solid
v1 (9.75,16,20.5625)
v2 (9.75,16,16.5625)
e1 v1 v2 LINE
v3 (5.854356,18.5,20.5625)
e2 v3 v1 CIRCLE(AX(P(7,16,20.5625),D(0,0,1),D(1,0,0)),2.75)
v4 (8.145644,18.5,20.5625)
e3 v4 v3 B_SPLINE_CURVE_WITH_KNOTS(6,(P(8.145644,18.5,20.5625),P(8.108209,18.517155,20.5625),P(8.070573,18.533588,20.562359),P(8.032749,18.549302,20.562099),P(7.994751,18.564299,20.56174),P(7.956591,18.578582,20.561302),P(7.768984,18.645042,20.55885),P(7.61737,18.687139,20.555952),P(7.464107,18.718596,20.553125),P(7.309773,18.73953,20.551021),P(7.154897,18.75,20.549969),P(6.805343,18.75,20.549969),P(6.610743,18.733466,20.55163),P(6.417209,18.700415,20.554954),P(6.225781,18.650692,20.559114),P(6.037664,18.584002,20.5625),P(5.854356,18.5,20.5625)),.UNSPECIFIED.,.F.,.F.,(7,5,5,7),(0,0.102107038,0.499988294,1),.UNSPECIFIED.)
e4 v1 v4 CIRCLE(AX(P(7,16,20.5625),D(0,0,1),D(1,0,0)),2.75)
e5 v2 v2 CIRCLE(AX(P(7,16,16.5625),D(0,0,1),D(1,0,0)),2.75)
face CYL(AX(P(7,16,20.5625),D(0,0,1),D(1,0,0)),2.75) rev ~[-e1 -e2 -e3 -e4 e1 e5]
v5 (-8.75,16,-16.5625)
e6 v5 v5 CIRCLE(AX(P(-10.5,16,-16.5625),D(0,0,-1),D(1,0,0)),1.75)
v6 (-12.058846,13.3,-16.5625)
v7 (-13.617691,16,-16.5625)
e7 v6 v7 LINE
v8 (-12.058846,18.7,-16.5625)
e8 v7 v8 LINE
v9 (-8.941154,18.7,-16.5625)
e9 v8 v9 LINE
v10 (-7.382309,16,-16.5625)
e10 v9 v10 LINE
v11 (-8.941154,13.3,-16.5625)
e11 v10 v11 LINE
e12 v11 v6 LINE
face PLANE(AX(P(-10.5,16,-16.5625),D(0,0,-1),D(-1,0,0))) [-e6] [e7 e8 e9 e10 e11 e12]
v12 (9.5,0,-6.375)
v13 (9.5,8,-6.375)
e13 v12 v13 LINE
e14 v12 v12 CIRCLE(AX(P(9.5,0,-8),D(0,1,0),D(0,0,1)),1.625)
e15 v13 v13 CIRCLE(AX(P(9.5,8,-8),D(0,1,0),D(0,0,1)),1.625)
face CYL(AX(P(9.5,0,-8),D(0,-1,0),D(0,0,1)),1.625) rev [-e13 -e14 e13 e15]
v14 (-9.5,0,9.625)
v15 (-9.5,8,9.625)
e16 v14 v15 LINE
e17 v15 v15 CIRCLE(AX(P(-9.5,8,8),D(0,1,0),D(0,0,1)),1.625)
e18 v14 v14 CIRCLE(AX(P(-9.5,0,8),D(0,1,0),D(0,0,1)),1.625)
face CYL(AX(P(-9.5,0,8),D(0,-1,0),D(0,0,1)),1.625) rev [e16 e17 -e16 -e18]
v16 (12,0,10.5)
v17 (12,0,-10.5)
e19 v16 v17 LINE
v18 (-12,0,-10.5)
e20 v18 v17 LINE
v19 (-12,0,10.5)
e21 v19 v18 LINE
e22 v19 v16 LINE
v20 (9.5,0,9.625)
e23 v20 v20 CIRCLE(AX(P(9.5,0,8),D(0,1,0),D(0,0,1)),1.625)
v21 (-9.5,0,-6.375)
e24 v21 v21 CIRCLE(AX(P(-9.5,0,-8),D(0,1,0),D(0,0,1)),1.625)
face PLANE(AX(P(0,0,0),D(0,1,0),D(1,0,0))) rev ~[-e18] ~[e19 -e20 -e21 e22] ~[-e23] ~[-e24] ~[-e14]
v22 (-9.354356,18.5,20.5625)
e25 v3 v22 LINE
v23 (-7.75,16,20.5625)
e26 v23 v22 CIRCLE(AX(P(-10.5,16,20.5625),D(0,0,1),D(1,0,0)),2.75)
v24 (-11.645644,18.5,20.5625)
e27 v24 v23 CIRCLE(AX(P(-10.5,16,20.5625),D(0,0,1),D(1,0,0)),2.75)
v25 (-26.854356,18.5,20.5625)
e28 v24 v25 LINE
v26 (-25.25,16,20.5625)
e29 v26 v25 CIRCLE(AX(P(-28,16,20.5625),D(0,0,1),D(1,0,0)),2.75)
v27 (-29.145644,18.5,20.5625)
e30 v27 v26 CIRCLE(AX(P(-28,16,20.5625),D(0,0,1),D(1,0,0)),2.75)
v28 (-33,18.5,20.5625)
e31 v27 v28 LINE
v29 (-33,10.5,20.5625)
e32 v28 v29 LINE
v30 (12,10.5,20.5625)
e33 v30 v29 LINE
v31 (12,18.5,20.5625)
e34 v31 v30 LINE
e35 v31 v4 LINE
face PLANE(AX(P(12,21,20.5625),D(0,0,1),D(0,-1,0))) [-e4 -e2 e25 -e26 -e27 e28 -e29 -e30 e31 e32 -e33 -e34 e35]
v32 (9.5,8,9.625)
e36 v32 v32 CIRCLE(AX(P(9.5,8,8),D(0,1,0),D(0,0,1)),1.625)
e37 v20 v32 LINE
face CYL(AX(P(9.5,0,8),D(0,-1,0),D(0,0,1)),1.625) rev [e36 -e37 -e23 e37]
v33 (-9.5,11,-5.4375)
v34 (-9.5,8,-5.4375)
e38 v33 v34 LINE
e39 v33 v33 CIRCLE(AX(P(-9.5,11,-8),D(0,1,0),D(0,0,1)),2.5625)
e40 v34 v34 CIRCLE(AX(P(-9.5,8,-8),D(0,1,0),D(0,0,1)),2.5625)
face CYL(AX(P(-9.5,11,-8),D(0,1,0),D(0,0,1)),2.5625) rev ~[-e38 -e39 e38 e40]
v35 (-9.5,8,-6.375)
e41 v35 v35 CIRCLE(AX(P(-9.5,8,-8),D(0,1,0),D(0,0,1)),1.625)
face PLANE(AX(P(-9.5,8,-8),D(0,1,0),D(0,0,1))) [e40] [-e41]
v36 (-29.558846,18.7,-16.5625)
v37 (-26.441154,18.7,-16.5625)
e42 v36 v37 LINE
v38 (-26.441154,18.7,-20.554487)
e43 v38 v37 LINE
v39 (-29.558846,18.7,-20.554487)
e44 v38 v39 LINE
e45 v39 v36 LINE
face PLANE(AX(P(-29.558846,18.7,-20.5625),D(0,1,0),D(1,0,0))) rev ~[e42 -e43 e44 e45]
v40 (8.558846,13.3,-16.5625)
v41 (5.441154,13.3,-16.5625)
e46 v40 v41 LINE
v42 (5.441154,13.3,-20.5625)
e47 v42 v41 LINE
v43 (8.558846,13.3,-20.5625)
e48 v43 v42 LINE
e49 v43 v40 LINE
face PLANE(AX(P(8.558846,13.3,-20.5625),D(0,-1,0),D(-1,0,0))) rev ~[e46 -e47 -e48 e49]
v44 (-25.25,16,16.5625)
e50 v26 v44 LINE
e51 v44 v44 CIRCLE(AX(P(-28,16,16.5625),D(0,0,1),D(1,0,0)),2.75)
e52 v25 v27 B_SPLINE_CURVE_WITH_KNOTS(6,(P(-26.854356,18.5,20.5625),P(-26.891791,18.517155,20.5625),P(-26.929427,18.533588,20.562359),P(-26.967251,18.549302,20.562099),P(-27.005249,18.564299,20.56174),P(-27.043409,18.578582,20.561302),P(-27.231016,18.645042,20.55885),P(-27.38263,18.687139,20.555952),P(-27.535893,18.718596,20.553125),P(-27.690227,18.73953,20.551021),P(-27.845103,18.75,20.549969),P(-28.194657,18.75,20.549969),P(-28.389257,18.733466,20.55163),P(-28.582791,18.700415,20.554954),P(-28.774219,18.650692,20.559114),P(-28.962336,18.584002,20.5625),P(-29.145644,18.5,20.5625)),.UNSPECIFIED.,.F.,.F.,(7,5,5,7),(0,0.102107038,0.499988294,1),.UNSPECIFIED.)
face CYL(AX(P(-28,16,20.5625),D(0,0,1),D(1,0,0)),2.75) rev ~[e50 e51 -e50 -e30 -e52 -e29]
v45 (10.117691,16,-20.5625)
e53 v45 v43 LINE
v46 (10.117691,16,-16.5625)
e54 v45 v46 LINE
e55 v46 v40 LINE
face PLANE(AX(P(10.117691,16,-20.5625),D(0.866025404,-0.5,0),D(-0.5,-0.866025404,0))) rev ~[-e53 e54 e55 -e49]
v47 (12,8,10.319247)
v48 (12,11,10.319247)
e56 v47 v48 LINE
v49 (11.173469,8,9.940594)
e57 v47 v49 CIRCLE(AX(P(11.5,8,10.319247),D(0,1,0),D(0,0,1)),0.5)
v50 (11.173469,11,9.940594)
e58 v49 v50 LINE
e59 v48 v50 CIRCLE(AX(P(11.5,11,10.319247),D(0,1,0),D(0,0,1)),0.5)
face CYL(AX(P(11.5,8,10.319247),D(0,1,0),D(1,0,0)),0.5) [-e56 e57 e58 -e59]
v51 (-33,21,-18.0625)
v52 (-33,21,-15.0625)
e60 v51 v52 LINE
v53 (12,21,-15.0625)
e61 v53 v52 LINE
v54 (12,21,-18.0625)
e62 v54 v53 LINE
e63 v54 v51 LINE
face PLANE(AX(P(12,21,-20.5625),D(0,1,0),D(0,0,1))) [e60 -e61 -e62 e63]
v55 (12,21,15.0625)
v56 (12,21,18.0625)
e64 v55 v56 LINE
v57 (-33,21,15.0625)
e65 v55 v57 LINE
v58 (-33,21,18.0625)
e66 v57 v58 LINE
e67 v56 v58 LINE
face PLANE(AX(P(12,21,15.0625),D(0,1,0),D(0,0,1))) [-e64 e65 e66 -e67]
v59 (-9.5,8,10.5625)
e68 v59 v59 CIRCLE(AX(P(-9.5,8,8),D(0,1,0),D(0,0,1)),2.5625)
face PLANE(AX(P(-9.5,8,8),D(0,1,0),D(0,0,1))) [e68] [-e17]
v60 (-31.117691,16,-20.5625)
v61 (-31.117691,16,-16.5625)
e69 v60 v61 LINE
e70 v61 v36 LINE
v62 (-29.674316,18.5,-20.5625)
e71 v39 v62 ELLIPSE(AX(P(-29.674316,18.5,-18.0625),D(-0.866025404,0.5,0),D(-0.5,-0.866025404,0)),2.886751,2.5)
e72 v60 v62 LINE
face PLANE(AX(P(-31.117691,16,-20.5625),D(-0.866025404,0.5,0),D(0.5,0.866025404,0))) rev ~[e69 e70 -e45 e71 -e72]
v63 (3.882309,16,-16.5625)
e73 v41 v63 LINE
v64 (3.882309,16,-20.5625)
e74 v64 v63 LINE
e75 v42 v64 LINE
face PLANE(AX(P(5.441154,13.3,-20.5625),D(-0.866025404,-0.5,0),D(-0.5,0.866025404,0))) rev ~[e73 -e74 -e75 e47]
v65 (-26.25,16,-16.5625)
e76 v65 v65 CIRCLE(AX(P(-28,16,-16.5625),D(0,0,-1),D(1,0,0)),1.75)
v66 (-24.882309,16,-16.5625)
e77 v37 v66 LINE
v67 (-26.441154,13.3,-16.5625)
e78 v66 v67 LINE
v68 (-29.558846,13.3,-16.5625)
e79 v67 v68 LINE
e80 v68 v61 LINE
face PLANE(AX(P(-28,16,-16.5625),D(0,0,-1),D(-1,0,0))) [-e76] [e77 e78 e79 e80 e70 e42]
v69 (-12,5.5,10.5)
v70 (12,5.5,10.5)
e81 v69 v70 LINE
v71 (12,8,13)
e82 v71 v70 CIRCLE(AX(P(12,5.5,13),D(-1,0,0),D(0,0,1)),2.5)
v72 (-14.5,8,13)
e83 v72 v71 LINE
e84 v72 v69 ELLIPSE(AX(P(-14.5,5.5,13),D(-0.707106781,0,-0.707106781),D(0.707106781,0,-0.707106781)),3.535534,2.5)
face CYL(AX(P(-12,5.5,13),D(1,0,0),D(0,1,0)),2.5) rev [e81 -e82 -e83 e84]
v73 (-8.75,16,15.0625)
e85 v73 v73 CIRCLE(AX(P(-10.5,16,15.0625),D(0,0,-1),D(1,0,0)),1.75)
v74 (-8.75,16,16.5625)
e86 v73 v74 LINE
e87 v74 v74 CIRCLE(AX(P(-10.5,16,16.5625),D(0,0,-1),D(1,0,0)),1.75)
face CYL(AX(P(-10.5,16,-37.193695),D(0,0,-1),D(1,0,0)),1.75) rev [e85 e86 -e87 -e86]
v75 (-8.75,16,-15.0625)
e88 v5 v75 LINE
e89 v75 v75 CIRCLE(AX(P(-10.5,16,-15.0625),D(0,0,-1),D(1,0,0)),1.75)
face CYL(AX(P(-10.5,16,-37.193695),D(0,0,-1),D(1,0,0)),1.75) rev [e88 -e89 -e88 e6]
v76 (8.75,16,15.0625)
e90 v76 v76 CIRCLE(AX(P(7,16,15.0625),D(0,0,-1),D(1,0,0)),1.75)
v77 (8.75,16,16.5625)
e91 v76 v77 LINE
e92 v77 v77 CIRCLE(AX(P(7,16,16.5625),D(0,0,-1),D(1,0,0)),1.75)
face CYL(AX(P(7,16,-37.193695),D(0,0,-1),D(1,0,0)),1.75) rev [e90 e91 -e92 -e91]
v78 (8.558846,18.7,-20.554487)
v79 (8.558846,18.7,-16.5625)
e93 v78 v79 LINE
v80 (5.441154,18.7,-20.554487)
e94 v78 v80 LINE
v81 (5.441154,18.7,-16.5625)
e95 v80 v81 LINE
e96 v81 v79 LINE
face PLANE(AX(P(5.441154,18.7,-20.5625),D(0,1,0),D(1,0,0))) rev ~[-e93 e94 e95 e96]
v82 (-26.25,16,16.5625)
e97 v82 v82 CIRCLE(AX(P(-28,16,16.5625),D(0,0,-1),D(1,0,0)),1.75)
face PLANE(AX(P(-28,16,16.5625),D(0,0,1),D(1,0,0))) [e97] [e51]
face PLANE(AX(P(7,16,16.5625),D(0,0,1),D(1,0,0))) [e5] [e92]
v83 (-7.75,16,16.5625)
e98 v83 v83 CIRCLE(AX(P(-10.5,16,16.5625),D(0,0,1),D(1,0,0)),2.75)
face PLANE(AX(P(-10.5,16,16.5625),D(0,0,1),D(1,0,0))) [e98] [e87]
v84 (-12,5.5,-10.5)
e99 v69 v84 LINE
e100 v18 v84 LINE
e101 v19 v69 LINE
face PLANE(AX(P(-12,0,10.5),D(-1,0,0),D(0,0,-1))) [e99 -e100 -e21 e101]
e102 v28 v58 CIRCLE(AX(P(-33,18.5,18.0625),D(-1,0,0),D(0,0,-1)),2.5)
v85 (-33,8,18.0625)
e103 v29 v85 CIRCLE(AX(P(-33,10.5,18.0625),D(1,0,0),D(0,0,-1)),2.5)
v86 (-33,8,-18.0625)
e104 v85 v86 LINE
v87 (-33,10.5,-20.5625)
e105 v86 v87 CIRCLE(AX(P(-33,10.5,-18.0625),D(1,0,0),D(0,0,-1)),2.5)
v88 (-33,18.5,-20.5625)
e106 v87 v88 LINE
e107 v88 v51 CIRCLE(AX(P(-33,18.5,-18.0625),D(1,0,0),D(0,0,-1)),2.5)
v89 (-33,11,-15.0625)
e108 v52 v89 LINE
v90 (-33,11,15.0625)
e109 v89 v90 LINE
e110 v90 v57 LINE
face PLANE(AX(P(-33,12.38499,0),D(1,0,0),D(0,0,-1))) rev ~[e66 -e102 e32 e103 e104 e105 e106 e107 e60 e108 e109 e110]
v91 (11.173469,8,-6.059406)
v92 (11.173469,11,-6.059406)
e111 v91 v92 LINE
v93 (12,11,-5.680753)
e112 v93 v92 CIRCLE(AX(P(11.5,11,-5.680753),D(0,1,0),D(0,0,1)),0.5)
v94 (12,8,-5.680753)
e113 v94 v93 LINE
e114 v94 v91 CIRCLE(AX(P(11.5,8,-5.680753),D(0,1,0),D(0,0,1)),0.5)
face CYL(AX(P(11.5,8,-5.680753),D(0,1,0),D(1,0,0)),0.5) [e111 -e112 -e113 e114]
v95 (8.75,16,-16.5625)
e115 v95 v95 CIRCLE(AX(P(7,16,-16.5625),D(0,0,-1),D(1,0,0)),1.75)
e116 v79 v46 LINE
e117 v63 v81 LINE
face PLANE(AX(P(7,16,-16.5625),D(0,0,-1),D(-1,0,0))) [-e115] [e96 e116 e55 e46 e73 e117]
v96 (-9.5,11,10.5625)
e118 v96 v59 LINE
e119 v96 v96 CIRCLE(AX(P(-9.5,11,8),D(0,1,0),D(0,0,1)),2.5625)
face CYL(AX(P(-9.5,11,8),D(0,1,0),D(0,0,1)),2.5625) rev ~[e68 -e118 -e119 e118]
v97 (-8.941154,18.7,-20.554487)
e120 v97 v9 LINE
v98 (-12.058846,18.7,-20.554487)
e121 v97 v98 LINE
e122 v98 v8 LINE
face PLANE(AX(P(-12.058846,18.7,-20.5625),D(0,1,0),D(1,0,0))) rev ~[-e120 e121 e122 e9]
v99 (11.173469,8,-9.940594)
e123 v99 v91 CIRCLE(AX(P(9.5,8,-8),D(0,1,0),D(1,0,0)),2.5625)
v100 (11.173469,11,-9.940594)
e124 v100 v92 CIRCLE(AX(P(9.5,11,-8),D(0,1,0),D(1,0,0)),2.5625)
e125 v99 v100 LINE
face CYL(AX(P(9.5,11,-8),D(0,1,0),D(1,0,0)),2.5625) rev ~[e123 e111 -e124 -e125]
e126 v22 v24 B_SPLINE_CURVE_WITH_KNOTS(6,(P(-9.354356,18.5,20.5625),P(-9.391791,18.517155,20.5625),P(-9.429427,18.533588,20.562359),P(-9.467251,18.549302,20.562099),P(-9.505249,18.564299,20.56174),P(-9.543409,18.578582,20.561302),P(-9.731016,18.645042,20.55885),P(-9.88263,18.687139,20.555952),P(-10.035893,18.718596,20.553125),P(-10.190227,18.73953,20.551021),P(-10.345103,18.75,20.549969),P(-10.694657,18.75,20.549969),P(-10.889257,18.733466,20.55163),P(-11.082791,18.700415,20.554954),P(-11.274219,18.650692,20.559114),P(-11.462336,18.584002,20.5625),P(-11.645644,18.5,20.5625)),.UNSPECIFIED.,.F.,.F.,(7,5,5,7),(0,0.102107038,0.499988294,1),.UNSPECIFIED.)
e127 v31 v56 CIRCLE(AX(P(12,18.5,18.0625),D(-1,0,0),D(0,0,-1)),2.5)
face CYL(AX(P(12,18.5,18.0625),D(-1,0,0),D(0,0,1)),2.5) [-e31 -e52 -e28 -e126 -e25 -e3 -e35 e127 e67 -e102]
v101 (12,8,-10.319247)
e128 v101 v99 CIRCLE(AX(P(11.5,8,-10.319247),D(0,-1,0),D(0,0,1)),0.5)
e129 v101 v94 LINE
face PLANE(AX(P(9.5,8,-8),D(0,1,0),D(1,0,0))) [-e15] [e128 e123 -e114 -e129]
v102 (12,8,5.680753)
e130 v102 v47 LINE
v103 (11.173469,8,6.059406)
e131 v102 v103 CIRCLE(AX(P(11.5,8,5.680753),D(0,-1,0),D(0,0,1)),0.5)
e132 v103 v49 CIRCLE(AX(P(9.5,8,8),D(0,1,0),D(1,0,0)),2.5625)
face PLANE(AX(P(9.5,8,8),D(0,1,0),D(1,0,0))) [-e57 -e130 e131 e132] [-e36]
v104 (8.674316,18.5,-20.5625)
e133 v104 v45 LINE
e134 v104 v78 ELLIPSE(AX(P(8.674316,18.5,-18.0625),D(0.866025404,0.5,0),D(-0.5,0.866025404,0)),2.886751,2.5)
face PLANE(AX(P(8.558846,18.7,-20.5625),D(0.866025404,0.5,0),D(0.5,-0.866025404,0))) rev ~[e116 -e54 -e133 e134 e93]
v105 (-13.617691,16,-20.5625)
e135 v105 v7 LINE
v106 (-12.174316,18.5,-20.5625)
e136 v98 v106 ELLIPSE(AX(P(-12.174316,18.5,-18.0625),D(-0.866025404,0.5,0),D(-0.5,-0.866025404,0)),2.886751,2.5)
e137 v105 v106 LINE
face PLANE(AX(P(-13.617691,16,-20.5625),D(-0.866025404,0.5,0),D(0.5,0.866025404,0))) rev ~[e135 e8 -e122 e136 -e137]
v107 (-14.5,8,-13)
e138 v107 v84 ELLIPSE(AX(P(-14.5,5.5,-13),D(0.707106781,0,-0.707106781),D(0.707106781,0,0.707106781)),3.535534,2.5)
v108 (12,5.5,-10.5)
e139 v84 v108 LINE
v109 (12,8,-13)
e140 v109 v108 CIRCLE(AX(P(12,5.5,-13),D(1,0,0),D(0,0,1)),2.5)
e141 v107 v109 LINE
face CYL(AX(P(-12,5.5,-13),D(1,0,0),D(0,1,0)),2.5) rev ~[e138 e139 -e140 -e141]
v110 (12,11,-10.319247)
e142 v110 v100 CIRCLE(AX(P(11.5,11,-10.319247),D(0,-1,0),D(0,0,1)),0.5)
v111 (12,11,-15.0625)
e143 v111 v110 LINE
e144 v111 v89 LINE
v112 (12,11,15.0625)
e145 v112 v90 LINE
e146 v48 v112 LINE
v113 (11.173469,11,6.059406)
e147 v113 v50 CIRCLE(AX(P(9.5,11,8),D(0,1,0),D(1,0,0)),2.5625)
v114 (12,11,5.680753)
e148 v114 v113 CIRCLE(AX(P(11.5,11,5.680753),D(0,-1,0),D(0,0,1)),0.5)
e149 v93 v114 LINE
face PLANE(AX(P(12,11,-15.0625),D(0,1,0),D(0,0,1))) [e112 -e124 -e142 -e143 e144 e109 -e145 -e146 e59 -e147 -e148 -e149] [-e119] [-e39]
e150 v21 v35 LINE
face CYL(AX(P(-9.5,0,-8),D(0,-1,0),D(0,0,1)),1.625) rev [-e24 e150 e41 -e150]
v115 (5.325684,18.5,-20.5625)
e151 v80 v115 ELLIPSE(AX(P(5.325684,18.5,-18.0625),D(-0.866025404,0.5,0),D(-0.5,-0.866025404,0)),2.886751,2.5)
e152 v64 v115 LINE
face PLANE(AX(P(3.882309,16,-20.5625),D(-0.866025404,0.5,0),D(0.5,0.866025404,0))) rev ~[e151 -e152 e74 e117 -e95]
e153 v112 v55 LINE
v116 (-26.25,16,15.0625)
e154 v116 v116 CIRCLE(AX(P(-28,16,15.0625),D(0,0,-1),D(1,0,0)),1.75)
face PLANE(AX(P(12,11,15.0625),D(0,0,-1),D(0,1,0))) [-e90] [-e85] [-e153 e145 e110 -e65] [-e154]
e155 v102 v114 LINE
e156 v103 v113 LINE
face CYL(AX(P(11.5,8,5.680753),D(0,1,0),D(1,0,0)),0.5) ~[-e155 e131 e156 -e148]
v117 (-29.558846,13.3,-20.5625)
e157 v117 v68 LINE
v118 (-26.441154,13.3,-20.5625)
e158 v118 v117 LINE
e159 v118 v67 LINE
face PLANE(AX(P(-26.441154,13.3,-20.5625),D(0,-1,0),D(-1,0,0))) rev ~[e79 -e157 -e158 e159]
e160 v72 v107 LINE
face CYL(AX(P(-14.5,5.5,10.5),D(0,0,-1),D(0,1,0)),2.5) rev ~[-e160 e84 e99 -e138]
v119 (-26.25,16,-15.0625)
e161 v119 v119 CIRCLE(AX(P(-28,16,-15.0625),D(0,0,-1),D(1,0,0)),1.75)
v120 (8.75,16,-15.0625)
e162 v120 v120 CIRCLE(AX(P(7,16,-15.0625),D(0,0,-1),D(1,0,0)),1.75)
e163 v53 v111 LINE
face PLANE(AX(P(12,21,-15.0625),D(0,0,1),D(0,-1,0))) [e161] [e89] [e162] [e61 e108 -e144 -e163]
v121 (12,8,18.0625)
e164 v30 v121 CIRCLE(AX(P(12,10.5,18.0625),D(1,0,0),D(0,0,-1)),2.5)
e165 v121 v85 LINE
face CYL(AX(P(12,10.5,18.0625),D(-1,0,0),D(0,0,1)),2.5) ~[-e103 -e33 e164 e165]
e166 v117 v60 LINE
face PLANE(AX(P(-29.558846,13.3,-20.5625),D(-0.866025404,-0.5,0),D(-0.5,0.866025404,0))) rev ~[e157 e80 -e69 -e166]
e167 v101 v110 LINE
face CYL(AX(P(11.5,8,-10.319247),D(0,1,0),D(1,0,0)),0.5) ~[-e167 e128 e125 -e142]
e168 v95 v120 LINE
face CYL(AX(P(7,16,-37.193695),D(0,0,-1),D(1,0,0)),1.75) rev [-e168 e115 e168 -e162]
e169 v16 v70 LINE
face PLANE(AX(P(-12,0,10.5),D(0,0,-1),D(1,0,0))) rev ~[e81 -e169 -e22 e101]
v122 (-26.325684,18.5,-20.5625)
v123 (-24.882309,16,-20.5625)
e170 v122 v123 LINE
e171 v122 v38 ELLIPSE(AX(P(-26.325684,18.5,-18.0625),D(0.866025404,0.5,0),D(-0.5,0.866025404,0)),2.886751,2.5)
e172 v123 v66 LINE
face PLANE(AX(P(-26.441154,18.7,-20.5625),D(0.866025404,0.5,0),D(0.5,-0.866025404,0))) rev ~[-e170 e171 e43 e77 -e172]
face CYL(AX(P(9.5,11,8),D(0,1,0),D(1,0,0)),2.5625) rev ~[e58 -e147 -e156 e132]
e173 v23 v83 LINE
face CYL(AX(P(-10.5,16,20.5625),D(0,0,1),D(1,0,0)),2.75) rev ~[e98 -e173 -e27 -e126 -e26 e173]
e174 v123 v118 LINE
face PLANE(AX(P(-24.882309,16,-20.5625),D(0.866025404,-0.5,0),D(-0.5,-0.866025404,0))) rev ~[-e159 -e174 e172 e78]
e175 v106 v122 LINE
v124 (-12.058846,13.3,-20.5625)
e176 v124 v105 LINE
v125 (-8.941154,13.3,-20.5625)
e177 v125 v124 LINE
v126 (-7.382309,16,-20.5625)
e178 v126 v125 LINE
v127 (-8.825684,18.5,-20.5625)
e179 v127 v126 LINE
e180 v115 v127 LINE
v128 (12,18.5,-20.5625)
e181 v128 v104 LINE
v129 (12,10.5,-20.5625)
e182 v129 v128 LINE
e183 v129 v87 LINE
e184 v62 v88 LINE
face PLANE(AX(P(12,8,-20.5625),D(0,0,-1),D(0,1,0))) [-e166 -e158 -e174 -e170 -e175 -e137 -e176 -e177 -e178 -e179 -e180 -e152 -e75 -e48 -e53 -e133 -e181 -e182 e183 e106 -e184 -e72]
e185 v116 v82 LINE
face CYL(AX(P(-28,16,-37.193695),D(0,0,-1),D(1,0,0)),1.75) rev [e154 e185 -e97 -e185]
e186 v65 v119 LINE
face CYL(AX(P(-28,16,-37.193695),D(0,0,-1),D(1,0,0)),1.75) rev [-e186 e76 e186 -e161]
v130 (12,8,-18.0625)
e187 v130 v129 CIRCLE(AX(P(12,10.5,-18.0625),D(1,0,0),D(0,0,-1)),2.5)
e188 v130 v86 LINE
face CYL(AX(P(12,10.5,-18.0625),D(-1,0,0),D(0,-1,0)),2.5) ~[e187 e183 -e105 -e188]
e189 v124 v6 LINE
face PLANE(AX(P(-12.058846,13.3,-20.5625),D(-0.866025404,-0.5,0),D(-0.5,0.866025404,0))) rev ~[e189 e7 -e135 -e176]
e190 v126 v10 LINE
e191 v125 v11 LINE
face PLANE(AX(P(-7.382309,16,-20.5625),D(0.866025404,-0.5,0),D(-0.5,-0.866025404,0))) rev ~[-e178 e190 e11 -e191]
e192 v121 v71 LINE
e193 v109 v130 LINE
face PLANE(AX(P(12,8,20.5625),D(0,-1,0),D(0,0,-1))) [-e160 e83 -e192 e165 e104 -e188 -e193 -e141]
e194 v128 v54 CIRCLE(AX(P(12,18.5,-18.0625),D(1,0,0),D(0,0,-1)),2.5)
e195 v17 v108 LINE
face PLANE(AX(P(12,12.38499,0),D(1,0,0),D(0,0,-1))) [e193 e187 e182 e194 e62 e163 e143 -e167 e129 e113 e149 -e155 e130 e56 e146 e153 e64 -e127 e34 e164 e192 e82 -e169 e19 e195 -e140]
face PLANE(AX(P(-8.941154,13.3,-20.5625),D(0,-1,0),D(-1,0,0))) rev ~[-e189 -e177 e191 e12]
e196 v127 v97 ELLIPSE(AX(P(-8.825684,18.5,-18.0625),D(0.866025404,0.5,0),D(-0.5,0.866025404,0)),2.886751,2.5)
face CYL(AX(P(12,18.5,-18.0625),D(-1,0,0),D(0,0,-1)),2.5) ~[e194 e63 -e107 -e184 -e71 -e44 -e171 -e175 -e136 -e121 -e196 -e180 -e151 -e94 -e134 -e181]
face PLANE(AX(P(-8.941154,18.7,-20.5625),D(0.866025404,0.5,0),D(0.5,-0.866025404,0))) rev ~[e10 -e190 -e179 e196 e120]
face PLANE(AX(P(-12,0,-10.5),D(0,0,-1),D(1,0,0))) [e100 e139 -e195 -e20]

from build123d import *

# Parameters (mm, degrees)
SKETCH1_W               = 24
SKETCH1_H               = 21
SKETCH1_R               = 1.625
BOSS_EXTRUDE1_DEPTH     = 8
BOSS_EXTRUDE4_DEPTH     = 45
CUT_EXTRUDE9_DEPTH      = 57.756194596
CUT_EXTRUDE9_DEPTH_BACK = 57.756194596
SKETCH15_R              = 1.75
FILLET3_R               = 2.5
SKETCH4_R               = 2.5625
CUT_EXTRUDE3_DEPTH      = 3
FILLET7_R               = 0.5
SKETCH20_R              = 2.75
CUT_EXTRUDE15_DEPTH     = 4
CUT_EXTRUDE16_DEPTH     = 4


with BuildPart() as part:
    # Sketch1 → Boss-Extrude1 (new body)
    with BuildSketch(Plane(origin=(0, 0, 0), x_dir=(1, 0, 0), z_dir=(0, 1, 0))):
        Rectangle(SKETCH1_W, SKETCH1_H)
        with Locations((-9.5, 8)):
            Circle(SKETCH1_R, mode=Mode.SUBTRACT)
        with Locations((9.5, 8)):
            Circle(SKETCH1_R, mode=Mode.SUBTRACT)
        with Locations((9.5, -8)):
            Circle(SKETCH1_R, mode=Mode.SUBTRACT)
        with Locations((-9.5, -8)):
            Circle(SKETCH1_R, mode=Mode.SUBTRACT)
    extrude(amount=BOSS_EXTRUDE1_DEPTH)

    # Sketch7 → Boss-Extrude4 (add)
    with BuildSketch(Plane(origin=(12, 0, 0), x_dir=(0, 0, -1), z_dir=(1, 0, 0))):
        Polygon((-20.5625, 21), (-20.5625, 8), (20.5625, 8), (20.5625, 21), (15.0625, 21), (15.0625, 11), (-15.0625, 11), (-15.0625, 21), align=None)
    extrude(amount=-BOSS_EXTRUDE4_DEPTH)

    # Sketch15 → Cut-Extrude9 (cut, two sides: drawn at the far end of the back side and taken through both)
    with BuildSketch(Plane.XY.offset(20.5625).offset(-CUT_EXTRUDE9_DEPTH_BACK)):
        with Locations((7, 16)):
            Circle(SKETCH15_R)
        with Locations((-10.5, 16)):
            Circle(SKETCH15_R)
        with Locations((-28, 16)):
            Circle(SKETCH15_R)
    extrude(amount=CUT_EXTRUDE9_DEPTH + CUT_EXTRUDE9_DEPTH_BACK, mode=Mode.SUBTRACT)

    # Fillet3
    fillet3_edges = [part.edges().sort_by_distance(p)[0] for p in [
        (0, 8, -10.5),
        (-12, 8, 0),
        (0, 8, 10.5),
        (-10.5, 8, -20.5625),
        (-10.5, 8, 20.5625),
        (-10.5, 21, 20.5625),
        (-10.5, 21, -20.5625),
    ]]
    fillet(fillet3_edges, radius=FILLET3_R)

    # Sketch4 → Cut-Extrude3 (cut)
    with BuildSketch(Plane(origin=(0, 11, 0), x_dir=(1, 0, 0), z_dir=(0, 1, 0))):
        with Locations((-9.5, 8)):
            Circle(SKETCH4_R)
        with Locations((9.5, 8)):
            Circle(SKETCH4_R)
        with Locations((9.5, -8)):
            Circle(SKETCH4_R)
        with Locations((-9.5, -8)):
            Circle(SKETCH4_R)
    extrude(amount=-CUT_EXTRUDE3_DEPTH, mode=Mode.SUBTRACT)

    # Fillet7
    fillet7_edges = [part.edges().sort_by_distance(p)[0] for p in [
        (12, 9.5, -8.5625),
        (12, 9.5, -7.4375),
        (12, 9.5, 7.4375),
        (12, 9.5, 8.5625),
    ]]
    fillet(fillet7_edges, radius=FILLET7_R)

    # Sketch20 → Cut-Extrude15 (cut)
    with BuildSketch(Plane.XY.offset(20.5625)):
        with Locations((-28, 16)):
            Circle(SKETCH20_R)
        with Locations((-10.5, 16)):
            Circle(SKETCH20_R)
        with Locations((7, 16)):
            Circle(SKETCH20_R)
    extrude(amount=-CUT_EXTRUDE15_DEPTH, mode=Mode.SUBTRACT)

    # Sketch21 → Cut-Extrude16 (cut)
    with BuildSketch(Plane(origin=(0, 0, -20.5625), x_dir=(-1, 0, 0), z_dir=(0, 0, -1))):
        Polygon((-5.441154273, 13.3), (-3.882308546, 16), (-5.441154273, 18.7), (-8.558845727, 18.7), (-10.117691454, 16), (-8.558845727, 13.3), align=None)
        Polygon((12.058845727, 13.3), (13.617691454, 16), (12.058845727, 18.7), (8.941154273, 18.7), (7.382308546, 16), (8.941154273, 13.3), align=None)
        Polygon((29.558845727, 13.3), (31.117691454, 16), (29.558845727, 18.7), (26.441154273, 18.7), (24.882308546, 16), (26.441154273, 13.3), align=None)
    extrude(amount=-CUT_EXTRUDE16_DEPTH, mode=Mode.SUBTRACT)


solid = part.part
